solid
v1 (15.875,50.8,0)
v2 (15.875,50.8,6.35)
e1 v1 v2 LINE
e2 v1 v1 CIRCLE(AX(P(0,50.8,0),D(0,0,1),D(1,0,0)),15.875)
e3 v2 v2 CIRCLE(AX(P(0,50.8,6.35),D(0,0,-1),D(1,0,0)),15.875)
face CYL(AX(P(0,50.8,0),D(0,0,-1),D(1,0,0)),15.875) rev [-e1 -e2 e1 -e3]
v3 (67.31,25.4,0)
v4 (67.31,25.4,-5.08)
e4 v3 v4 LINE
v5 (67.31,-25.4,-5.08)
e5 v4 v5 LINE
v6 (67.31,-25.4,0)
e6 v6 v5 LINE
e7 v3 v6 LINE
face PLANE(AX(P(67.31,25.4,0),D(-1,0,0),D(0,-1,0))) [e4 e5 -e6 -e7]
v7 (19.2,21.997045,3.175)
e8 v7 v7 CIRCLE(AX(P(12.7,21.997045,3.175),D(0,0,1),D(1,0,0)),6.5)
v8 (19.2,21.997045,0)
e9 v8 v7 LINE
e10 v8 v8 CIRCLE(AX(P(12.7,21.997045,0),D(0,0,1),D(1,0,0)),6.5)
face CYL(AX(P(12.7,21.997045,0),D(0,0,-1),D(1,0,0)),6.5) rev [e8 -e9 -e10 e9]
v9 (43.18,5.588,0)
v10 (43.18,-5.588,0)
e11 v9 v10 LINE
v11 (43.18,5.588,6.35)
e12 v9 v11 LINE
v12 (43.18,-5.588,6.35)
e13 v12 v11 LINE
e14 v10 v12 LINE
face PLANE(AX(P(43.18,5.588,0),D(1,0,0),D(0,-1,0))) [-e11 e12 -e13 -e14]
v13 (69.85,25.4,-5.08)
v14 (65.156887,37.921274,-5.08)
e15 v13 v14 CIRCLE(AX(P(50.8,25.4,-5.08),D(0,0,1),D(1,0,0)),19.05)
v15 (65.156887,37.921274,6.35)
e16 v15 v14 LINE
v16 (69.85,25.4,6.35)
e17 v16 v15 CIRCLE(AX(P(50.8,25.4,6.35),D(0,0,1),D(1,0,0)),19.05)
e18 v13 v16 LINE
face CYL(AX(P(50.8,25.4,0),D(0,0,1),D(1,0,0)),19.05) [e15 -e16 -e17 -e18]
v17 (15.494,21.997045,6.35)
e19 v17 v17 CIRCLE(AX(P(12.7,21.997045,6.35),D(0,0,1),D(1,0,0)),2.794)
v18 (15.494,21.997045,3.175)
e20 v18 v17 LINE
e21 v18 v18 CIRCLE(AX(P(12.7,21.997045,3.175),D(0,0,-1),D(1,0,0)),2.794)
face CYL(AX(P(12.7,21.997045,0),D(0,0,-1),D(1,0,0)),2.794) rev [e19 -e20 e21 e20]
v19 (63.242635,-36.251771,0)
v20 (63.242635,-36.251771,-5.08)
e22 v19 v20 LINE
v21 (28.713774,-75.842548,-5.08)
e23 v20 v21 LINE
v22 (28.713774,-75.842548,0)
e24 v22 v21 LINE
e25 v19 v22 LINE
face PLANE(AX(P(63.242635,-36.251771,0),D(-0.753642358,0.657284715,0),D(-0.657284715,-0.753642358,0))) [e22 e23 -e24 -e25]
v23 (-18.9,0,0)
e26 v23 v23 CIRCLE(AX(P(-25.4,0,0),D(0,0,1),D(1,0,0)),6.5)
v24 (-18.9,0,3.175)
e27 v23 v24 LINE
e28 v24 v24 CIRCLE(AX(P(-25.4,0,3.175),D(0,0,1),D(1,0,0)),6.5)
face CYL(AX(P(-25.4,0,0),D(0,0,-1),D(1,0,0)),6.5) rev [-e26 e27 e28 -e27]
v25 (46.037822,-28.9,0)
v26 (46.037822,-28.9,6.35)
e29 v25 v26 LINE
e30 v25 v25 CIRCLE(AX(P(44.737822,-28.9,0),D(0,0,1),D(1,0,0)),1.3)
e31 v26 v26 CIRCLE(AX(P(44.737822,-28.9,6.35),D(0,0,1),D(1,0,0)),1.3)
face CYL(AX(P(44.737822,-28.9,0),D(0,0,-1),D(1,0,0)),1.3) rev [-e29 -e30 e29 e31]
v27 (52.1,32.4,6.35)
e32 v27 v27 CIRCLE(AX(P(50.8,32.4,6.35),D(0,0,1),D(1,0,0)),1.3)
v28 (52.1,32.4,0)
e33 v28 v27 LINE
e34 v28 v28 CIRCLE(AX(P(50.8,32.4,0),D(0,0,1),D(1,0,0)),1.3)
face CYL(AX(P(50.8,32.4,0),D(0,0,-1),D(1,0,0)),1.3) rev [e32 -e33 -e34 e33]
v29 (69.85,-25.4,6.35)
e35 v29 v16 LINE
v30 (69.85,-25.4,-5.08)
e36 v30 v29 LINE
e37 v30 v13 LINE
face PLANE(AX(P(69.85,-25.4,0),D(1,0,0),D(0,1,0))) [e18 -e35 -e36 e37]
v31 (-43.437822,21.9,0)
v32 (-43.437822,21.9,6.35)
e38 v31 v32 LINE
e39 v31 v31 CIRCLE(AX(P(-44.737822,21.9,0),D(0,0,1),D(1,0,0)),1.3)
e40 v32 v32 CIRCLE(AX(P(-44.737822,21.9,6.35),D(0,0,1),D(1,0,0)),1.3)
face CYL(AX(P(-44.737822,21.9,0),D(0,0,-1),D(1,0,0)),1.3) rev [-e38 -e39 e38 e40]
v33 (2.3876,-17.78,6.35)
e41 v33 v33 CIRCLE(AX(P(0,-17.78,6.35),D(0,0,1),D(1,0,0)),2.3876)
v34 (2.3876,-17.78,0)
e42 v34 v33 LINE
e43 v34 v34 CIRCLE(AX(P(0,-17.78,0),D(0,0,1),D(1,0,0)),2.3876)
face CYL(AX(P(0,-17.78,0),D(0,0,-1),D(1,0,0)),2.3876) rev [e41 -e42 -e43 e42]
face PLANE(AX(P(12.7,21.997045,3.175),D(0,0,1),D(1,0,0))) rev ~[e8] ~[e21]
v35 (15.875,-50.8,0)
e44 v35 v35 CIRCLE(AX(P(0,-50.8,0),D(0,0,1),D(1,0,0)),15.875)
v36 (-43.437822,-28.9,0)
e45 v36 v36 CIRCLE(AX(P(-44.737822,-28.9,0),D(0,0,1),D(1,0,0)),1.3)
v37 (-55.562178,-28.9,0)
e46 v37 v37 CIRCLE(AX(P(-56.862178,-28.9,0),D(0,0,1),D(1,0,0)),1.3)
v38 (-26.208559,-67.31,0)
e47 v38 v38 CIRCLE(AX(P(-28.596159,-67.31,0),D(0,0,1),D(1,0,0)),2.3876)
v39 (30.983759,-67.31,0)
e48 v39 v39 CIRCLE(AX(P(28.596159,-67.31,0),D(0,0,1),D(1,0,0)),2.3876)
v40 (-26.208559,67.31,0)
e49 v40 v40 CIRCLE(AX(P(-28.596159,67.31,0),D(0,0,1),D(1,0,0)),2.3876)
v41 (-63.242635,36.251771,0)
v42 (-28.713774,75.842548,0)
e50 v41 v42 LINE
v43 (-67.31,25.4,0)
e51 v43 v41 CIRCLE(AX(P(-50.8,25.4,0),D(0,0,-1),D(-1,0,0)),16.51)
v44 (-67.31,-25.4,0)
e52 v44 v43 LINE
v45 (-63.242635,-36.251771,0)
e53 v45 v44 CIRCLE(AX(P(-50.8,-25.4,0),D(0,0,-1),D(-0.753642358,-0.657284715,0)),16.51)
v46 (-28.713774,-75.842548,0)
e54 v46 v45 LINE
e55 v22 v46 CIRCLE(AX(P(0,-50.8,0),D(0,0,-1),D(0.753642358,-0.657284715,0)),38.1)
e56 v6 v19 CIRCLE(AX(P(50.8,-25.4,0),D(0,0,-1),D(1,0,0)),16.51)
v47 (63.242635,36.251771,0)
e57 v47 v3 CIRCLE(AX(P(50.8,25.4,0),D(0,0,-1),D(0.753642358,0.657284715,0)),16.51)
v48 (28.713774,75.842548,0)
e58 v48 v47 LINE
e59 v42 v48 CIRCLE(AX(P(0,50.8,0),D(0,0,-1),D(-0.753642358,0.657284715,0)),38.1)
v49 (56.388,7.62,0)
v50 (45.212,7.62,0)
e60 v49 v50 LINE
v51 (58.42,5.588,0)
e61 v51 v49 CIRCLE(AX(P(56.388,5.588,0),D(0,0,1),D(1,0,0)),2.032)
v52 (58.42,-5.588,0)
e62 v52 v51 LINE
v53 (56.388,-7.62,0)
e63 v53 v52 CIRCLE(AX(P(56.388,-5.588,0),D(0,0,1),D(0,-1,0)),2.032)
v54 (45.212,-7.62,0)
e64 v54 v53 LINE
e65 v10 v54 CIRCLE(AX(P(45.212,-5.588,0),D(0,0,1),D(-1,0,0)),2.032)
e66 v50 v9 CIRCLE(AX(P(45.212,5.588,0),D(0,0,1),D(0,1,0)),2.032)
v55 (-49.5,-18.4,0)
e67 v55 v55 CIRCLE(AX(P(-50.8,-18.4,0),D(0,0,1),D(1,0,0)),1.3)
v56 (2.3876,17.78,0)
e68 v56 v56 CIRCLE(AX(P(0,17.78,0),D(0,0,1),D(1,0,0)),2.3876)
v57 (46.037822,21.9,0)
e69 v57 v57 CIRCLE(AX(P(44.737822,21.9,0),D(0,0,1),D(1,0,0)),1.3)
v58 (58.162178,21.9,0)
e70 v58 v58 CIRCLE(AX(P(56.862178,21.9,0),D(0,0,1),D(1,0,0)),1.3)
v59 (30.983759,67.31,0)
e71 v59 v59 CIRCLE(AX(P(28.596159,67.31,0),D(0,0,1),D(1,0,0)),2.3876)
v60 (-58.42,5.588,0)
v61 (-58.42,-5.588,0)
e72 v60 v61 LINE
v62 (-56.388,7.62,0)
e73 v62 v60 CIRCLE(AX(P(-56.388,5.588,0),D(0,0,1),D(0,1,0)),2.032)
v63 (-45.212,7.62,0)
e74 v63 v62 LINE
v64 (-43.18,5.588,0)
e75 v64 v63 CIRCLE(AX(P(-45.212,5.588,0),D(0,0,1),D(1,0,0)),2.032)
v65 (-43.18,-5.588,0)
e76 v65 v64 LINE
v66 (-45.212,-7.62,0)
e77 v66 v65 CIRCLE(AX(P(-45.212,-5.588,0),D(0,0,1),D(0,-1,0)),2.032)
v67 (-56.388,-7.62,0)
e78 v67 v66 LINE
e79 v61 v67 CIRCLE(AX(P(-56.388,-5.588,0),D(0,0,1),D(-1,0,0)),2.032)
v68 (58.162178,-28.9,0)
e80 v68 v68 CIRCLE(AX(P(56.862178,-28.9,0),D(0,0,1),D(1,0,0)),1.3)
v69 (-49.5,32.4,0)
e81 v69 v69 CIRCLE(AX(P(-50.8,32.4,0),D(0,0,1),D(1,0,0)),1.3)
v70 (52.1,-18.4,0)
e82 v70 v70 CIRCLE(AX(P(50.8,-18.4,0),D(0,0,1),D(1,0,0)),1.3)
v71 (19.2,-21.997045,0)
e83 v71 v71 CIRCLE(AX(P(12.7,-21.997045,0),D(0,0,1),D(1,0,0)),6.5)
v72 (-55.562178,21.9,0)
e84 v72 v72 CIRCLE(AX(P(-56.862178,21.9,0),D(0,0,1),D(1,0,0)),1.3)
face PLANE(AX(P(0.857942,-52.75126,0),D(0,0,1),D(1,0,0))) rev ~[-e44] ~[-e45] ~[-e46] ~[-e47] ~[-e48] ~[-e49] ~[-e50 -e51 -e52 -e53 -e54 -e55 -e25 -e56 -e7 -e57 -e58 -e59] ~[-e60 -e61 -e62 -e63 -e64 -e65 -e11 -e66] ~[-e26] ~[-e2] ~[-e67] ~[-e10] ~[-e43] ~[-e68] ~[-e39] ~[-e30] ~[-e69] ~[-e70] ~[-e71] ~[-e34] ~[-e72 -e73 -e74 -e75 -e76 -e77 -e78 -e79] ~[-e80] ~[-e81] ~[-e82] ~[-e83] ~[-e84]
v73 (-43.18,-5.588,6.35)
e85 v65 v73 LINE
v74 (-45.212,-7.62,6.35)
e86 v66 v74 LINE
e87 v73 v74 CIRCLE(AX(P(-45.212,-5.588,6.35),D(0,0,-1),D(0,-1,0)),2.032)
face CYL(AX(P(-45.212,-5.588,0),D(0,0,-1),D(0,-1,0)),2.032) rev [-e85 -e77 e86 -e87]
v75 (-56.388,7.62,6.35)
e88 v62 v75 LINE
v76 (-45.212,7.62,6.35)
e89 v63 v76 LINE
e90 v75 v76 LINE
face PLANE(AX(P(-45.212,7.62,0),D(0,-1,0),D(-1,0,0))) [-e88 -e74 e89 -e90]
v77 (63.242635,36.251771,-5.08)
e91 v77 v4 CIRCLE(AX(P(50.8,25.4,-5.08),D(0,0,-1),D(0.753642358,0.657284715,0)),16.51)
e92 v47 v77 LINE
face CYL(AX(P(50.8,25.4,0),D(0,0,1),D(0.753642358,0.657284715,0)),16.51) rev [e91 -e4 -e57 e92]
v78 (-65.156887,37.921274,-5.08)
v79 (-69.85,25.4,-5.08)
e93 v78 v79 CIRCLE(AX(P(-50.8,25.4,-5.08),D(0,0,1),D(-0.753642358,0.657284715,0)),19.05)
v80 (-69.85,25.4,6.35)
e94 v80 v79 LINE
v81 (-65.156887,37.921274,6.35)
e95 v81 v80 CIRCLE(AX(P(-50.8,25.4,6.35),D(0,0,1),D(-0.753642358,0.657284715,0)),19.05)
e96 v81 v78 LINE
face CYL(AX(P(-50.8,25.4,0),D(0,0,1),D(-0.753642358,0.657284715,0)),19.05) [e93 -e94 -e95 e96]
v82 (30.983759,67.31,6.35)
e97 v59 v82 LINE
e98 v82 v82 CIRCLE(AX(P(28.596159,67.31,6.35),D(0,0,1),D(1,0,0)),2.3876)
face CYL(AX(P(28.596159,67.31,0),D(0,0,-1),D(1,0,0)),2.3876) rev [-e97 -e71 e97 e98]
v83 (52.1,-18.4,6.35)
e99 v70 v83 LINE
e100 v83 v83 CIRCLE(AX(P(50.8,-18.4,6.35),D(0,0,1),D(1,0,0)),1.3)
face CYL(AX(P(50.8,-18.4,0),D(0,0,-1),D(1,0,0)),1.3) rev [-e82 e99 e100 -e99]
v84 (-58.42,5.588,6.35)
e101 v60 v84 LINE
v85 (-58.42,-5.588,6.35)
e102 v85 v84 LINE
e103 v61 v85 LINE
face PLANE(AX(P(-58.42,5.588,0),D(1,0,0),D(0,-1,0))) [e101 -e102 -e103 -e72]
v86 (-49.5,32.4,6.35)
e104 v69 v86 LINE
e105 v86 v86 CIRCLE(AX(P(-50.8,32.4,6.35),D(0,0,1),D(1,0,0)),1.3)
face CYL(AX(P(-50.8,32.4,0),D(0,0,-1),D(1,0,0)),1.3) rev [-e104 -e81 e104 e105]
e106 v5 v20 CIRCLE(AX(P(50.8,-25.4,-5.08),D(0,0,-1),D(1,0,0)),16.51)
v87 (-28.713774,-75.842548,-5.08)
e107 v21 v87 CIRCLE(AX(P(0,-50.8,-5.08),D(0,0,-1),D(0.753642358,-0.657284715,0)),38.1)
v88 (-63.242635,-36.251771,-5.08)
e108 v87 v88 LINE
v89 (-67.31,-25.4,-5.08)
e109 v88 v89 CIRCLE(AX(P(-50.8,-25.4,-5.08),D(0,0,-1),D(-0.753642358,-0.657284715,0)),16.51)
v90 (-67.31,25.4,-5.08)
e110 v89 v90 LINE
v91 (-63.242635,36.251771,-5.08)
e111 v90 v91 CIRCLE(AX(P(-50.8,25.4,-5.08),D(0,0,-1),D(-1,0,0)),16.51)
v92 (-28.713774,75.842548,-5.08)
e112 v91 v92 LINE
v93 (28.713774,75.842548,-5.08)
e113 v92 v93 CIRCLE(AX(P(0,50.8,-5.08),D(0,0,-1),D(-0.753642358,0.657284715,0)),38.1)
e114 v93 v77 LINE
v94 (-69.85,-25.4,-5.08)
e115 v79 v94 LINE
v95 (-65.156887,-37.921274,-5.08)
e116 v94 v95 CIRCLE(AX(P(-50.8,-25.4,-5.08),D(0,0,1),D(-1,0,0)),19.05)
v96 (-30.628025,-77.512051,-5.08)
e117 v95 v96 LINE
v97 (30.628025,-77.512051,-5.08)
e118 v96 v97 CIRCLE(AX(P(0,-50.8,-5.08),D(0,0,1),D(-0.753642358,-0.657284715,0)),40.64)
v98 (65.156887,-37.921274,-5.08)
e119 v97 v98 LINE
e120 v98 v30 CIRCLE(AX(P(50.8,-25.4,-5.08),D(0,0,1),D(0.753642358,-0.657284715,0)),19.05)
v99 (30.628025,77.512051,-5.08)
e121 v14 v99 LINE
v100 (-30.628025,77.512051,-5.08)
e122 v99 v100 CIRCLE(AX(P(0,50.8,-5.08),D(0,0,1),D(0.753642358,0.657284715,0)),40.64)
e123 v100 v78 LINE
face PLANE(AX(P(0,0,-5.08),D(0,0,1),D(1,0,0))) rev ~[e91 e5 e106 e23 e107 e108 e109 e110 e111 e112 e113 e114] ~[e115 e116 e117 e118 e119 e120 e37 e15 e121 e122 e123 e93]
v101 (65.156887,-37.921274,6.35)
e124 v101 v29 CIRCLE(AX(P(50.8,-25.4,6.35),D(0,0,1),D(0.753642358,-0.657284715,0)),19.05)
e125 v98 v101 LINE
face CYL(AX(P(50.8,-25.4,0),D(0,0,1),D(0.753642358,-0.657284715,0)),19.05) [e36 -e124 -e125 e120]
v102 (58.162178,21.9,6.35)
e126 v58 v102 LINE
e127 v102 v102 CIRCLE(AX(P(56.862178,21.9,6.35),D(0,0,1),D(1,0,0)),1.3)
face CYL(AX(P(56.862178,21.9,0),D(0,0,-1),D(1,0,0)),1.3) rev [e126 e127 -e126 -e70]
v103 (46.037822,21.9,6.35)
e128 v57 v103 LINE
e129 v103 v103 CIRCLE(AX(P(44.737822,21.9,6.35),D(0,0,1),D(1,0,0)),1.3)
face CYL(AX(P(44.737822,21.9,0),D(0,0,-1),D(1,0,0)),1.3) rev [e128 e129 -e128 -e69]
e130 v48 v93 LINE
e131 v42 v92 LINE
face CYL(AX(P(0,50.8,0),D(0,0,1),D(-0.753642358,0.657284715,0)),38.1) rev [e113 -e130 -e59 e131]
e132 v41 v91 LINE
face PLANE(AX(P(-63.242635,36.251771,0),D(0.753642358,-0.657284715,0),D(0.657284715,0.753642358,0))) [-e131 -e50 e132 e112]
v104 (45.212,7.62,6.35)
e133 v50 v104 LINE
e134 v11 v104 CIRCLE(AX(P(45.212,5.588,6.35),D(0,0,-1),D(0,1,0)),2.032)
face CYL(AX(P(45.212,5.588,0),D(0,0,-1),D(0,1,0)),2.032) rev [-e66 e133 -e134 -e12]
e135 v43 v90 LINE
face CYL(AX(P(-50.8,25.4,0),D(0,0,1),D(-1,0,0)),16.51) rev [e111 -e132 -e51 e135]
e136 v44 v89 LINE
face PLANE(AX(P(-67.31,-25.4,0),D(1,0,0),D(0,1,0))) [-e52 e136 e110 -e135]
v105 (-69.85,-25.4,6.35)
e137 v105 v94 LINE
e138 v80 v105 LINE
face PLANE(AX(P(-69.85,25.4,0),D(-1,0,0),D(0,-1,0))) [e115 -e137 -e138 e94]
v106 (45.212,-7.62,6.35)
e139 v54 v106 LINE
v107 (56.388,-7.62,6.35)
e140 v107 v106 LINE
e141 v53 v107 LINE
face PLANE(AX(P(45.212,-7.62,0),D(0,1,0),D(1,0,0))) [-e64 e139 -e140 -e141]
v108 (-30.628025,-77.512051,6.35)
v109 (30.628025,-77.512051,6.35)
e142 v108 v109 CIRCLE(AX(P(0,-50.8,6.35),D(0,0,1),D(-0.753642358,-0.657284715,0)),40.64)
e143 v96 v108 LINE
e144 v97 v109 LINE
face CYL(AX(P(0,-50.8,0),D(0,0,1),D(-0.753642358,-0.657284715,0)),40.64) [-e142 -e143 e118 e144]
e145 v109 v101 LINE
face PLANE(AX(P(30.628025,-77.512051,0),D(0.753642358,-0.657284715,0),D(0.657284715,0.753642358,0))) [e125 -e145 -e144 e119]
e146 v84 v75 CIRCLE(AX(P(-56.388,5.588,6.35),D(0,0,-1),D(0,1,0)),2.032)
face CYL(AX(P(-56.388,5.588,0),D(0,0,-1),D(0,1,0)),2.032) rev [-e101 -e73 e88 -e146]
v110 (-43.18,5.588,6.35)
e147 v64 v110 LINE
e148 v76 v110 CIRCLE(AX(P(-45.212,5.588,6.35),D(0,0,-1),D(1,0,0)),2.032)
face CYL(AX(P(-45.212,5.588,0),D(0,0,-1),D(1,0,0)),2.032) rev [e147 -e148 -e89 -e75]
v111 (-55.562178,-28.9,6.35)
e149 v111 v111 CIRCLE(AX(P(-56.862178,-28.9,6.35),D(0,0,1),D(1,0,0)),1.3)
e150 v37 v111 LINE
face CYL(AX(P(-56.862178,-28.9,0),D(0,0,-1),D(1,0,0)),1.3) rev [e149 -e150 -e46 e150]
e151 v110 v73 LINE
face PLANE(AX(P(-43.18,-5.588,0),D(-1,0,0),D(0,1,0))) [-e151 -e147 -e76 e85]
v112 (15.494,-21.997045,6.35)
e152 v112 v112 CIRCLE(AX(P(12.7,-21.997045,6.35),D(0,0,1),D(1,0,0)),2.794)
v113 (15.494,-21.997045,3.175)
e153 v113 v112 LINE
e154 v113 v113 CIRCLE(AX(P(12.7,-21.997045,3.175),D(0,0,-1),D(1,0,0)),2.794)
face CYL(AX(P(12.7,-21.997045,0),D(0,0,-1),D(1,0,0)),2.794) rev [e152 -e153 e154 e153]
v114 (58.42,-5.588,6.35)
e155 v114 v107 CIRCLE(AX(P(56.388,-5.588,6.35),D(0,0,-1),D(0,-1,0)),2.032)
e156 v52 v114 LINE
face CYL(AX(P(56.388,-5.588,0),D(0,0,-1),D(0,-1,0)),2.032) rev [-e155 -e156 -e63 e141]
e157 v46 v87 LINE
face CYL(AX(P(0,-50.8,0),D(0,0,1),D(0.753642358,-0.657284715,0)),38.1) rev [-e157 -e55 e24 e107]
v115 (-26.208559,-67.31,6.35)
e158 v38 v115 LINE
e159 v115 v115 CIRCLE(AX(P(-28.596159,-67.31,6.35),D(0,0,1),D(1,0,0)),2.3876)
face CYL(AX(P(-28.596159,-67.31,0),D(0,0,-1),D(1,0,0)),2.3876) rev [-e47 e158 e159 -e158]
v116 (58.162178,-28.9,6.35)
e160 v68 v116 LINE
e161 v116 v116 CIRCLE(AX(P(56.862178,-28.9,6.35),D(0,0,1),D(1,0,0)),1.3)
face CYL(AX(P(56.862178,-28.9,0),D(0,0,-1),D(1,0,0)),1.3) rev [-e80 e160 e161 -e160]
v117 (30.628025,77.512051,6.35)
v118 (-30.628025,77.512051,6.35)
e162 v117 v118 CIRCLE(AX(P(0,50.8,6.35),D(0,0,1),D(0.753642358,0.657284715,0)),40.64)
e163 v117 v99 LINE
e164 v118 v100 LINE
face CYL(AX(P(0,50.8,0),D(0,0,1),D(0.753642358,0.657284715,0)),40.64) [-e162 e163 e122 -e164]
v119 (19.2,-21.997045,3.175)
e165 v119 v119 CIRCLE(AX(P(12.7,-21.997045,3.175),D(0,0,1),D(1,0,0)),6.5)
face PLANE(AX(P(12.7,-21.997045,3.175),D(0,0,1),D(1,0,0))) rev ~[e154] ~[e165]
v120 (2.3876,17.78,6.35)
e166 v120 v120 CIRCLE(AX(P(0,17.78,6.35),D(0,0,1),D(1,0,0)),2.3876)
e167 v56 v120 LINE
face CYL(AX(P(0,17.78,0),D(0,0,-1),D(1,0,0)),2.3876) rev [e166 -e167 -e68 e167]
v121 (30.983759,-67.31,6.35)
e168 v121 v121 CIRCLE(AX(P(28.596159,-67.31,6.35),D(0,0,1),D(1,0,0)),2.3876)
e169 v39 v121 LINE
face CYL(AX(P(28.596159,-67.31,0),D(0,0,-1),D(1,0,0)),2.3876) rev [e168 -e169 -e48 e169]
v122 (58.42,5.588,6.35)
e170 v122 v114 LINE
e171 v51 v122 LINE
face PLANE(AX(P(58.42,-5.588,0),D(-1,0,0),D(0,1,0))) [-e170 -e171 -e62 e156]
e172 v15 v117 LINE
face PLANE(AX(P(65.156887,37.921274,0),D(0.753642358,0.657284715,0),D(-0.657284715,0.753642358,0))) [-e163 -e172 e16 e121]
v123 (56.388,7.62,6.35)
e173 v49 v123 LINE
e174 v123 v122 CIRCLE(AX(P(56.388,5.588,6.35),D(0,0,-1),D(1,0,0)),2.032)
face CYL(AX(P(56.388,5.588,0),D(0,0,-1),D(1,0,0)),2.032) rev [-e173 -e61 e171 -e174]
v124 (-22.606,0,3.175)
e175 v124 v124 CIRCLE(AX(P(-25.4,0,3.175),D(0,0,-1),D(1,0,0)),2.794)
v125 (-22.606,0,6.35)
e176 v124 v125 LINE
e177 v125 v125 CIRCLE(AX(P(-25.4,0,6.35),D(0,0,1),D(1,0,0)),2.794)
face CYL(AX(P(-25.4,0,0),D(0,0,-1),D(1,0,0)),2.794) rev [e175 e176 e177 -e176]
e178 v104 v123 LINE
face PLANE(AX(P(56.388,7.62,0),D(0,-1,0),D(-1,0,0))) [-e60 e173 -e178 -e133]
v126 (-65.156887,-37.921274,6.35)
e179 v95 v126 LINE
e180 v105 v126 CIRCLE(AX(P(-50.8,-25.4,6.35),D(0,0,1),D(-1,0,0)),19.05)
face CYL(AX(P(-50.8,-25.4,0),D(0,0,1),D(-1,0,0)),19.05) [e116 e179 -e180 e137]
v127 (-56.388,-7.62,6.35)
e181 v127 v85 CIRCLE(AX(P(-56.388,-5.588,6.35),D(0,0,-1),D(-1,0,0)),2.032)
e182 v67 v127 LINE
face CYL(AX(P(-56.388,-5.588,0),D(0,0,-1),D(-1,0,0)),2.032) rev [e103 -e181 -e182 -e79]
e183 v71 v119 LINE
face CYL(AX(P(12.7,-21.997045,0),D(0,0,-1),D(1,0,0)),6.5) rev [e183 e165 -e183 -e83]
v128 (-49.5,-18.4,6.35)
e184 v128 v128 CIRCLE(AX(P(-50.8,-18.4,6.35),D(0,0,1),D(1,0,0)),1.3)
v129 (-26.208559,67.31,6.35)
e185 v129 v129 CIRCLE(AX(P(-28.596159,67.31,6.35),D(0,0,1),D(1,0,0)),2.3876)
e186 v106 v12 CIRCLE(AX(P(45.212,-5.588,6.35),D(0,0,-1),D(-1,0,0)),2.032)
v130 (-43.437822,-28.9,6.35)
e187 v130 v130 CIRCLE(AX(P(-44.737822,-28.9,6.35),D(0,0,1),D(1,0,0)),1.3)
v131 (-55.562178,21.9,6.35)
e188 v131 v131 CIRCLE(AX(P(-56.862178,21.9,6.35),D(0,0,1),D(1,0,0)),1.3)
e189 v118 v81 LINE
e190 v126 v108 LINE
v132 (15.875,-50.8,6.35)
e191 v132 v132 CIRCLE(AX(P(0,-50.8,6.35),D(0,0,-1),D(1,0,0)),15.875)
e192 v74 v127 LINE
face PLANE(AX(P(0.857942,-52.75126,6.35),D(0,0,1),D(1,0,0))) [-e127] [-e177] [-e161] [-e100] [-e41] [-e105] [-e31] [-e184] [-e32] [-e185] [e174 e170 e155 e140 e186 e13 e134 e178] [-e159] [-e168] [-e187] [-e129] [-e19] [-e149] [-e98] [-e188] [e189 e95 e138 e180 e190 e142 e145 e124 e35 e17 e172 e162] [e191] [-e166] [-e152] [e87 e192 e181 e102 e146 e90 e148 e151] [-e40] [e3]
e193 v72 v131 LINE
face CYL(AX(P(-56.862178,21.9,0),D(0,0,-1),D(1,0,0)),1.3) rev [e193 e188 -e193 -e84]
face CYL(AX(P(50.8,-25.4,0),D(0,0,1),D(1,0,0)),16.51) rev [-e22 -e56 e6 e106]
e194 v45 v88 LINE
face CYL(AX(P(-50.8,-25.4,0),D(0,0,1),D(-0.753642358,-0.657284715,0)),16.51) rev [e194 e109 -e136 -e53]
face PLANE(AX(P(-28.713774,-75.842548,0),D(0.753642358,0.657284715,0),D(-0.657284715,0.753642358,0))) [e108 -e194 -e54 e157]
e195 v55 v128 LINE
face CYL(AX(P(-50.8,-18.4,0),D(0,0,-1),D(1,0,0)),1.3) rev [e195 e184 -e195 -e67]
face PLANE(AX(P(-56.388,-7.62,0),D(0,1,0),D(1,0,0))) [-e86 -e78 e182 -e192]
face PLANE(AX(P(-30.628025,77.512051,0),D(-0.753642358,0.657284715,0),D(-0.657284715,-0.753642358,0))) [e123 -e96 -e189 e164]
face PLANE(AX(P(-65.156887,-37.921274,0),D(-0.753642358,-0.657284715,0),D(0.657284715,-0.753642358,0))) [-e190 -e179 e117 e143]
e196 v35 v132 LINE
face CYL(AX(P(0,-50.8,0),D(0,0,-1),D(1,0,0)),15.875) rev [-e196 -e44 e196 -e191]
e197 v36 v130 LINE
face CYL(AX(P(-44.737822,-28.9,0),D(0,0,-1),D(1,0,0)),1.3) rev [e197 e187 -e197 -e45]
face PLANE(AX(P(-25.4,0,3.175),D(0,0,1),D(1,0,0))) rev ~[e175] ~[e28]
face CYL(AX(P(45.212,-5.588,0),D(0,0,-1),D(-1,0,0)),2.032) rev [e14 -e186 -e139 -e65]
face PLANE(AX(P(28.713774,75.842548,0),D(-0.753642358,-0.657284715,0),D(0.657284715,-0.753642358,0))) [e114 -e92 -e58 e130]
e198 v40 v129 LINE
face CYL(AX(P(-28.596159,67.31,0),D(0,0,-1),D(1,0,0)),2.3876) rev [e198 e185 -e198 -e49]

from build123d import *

# Parameters (mm, degrees)
F2_R     = 2.3876
F2_R_2   = 2.794
F2_R_3   = 1.3
F3_DEPTH = 6.35
F4_R     = 6.5
F5_DEPTH = 3.175
F7_DEPTH = 5.08
F8_R     = 15.875
F9_DEPTH = 25.4


with BuildPart() as f3:
    # F2 (on Top) → F3 (new body)
    with BuildSketch(Plane.XY):
        with BuildLine():
            ThreePointArc((30.6280254128, -77.5120508256), (38.0547799414, -65.063355973), (40.64, -50.8))
            ThreePointArc((40.64, -50.8), (-14.263355973, -12.7452200586), (-30.6280254128, -77.5120508256))
            ThreePointArc((-30.6280254128, -77.5120508256), (0, -91.44), (30.6280254128, -77.5120508256))
        make_face()
        with Locations((-28.596158833, -67.31)):
            Circle(F2_R, mode=Mode.SUBTRACT)
        with Locations((28.596158833, -67.31)):
            Circle(F2_R, mode=Mode.SUBTRACT)
        with Locations((0, -17.78)):
            Circle(F2_R, mode=Mode.SUBTRACT)
        with Locations((12.7, -21.9970452561)):
            Circle(F2_R_2, mode=Mode.SUBTRACT)
        with BuildLine():
            ThreePointArc((-30.6280254128, -77.5120508256), (-14.263355973, -12.7452200586), (40.64, -50.8))
            ThreePointArc((40.64, -50.8), (38.0547799414, -65.063355973), (30.6280254128, -77.5120508256))
            Line((30.6280254128, -77.5120508256), (65.1568869123, -37.9212738245))
            ThreePointArc((65.1568869123, -37.9212738245), (68.6381780975, -32.0859481123), (69.85, -25.4))
            Line((69.85, -25.4), (69.85, 25.4))
            ThreePointArc((69.85, 25.4), (68.6381780975, 32.0859481123), (65.1568869123, 37.9212738245))
            Line((65.1568869123, 37.9212738245), (30.6280254128, 77.5120508256))
            ThreePointArc((30.6280254128, 77.5120508256), (38.0547799414, 65.063355973), (40.64, 50.8))
            ThreePointArc((40.64, 50.8), (-14.263355973, 12.7452200586), (-30.6280254128, 77.5120508256))
            Line((-30.6280254128, 77.5120508256), (-65.1568869123, 37.9212738245))
            ThreePointArc((-65.1568869123, 37.9212738245), (-68.6381780975, 32.0859481123), (-69.85, 25.4))
            Line((-69.85, 25.4), (-69.85, 0))
            Line((-69.85, 0), (-69.85, -25.4))
            ThreePointArc((-69.85, -25.4), (-68.6381780975, -32.0859481123), (-65.1568869123, -37.9212738245))
            Line((-65.1568869123, -37.9212738245), (-30.6280254128, -77.5120508256))
        make_face()
        with Locations((-56.8621778265, -28.9)):
            Circle(F2_R_3, mode=Mode.SUBTRACT)
        with Locations((-44.7378221735, -28.9)):
            Circle(F2_R_3, mode=Mode.SUBTRACT)
        with Locations((-50.8, -18.4)):
            Circle(F2_R_3, mode=Mode.SUBTRACT)
        with Locations((44.7378221735, -28.9)):
            Circle(F2_R_3, mode=Mode.SUBTRACT)
        with Locations((56.8621778265, -28.9)):
            Circle(F2_R_3, mode=Mode.SUBTRACT)
        with Locations((50.8, -18.4)):
            Circle(F2_R_3, mode=Mode.SUBTRACT)
        with Locations((-56.8621778265, 21.9)):
            Circle(F2_R_3, mode=Mode.SUBTRACT)
        with Locations((-44.7378221735, 21.9)):
            Circle(F2_R_3, mode=Mode.SUBTRACT)
        with Locations((-50.8, 32.4)):
            Circle(F2_R_3, mode=Mode.SUBTRACT)
        with Locations((-25.4, 0)):
            Circle(F2_R_2, mode=Mode.SUBTRACT)
        with Locations((44.7378221735, 21.9)):
            Circle(F2_R_3, mode=Mode.SUBTRACT)
        with Locations((56.8621778265, 21.9)):
            Circle(F2_R_3, mode=Mode.SUBTRACT)
        with Locations((50.8, 32.4)):
            Circle(F2_R_3, mode=Mode.SUBTRACT)
        with BuildLine():
            ThreePointArc((40.64, 50.8), (38.0547799414, 65.063355973), (30.6280254128, 77.5120508256))
            ThreePointArc((30.6280254128, 77.5120508256), (0, 91.44), (-30.6280254128, 77.5120508256))
            ThreePointArc((-30.6280254128, 77.5120508256), (-14.263355973, 12.7452200586), (40.64, 50.8))
        make_face()
        with Locations((-28.596158833, 67.31)):
            Circle(F2_R, mode=Mode.SUBTRACT)
        with Locations((0, 17.78)):
            Circle(F2_R, mode=Mode.SUBTRACT)
        with Locations((12.7, 21.9970452561)):
            Circle(F2_R_2, mode=Mode.SUBTRACT)
        with Locations((28.596158833, 67.31)):
            Circle(F2_R, mode=Mode.SUBTRACT)
    extrude(amount=F3_DEPTH)

    # F4 (on Top) → F5 (cut)
    with BuildSketch(Plane.XY):
        with Locations((-25.4, 0)):
            Circle(F4_R)
        with Locations((12.7, 21.9970452561)):
            Circle(F4_R)
        with Locations((12.7, -21.9970452561)):
            Circle(F4_R)
    extrude(amount=F5_DEPTH, mode=Mode.SUBTRACT)

    # F6 (on Top) → F7 (join)
    with BuildSketch(Plane.XY):
        with BuildLine():
            ThreePointArc((-69.85, -25.4), (-68.6381780975, -32.0859481123), (-65.1568869123, -37.9212738245))
            Line((-65.1568869123, -37.9212738245), (-30.6280254128, -77.5120508256))
            ThreePointArc((-30.6280254128, -77.5120508256), (0, -91.44), (30.6280254128, -77.5120508256))
            Line((30.6280254128, -77.5120508256), (65.1568869123, -37.9212738245))
            ThreePointArc((65.1568869123, -37.9212738245), (68.6381780975, -32.0859481123), (69.85, -25.4))
            Line((69.85, -25.4), (69.85, 25.4))
            ThreePointArc((69.85, 25.4), (68.6381780975, 32.0859481123), (65.1568869123, 37.9212738245))
            Line((65.1568869123, 37.9212738245), (30.6280254128, 77.5120508256))
            ThreePointArc((30.6280254128, 77.5120508256), (0, 91.44), (-30.6280254128, 77.5120508256))
            Line((-30.6280254128, 77.5120508256), (-65.1568869123, 37.9212738245))
            ThreePointArc((-65.1568869123, 37.9212738245), (-68.6381780975, 32.0859481123), (-69.85, 25.4))
            Line((-69.85, 25.4), (-69.85, -25.4))
        make_face()
        with BuildLine():
            Line((-28.7137738245, -75.842547649), (-63.242635324, -36.2517706479))
            ThreePointArc((-63.242635324, -36.2517706479), (-66.2597543512, -31.194488364), (-67.31, -25.4))
            Line((-67.31, -25.4), (-67.31, 25.4))
            ThreePointArc((-67.31, 25.4), (-66.2597543512, 31.194488364), (-63.242635324, 36.2517706479))
            Line((-63.242635324, 36.2517706479), (-28.7137738245, 75.842547649))
            ThreePointArc((-28.7137738245, 75.842547649), (0, 88.9), (28.7137738245, 75.842547649))
            Line((28.7137738245, 75.842547649), (63.242635324, 36.2517706479))
            ThreePointArc((63.242635324, 36.2517706479), (66.2597543512, 31.194488364), (67.31, 25.4))
            Line((67.31, 25.4), (67.31, -25.4))
            ThreePointArc((67.31, -25.4), (66.2597543512, -31.194488364), (63.242635324, -36.2517706479))
            Line((63.242635324, -36.2517706479), (28.7137738245, -75.842547649))
            ThreePointArc((28.7137738245, -75.842547649), (0, -88.9), (-28.7137738245, -75.842547649))
        make_face(mode=Mode.SUBTRACT)
    extrude(amount=-F7_DEPTH)

    # F8 (on Top) → F9 (cut)
    with BuildSketch(Plane.XY):
        with Locations((0, -50.8)):
            Circle(F8_R)
        with Locations((0, 50.8)):
            Circle(F8_R)
        with BuildLine():
            ThreePointArc((-43.18, 5.588), (-43.7751590206, 7.0248409794), (-45.212, 7.62))
            Line((-45.212, 7.62), (-56.388, 7.62))
            ThreePointArc((-56.388, 7.62), (-57.8248409794, 7.0248409794), (-58.42, 5.588))
            Line((-58.42, 5.588), (-58.42, -5.588))
            ThreePointArc((-58.42, -5.588), (-57.8248409794, -7.0248409794), (-56.388, -7.62))
            Line((-56.388, -7.62), (-45.212, -7.62))
            ThreePointArc((-45.212, -7.62), (-43.7751590206, -7.0248409794), (-43.18, -5.588))
            Line((-43.18, -5.588), (-43.18, 5.588))
        make_face()
        with BuildLine():
            ThreePointArc((58.42, 5.588), (57.8248409794, 7.0248409794), (56.388, 7.62))
            Line((56.388, 7.62), (45.212, 7.62))
            ThreePointArc((45.212, 7.62), (43.7751590206, 7.0248409794), (43.18, 5.588))
            Line((43.18, 5.588), (43.18, -5.588))
            ThreePointArc((43.18, -5.588), (43.7751590206, -7.0248409794), (45.212, -7.62))
            Line((45.212, -7.62), (56.388, -7.62))
            ThreePointArc((56.388, -7.62), (57.8248409794, -7.0248409794), (58.42, -5.588))
            Line((58.42, -5.588), (58.42, 5.588))
        make_face()
    extrude(amount=F9_DEPTH, mode=Mode.SUBTRACT)


solid = f3.part
